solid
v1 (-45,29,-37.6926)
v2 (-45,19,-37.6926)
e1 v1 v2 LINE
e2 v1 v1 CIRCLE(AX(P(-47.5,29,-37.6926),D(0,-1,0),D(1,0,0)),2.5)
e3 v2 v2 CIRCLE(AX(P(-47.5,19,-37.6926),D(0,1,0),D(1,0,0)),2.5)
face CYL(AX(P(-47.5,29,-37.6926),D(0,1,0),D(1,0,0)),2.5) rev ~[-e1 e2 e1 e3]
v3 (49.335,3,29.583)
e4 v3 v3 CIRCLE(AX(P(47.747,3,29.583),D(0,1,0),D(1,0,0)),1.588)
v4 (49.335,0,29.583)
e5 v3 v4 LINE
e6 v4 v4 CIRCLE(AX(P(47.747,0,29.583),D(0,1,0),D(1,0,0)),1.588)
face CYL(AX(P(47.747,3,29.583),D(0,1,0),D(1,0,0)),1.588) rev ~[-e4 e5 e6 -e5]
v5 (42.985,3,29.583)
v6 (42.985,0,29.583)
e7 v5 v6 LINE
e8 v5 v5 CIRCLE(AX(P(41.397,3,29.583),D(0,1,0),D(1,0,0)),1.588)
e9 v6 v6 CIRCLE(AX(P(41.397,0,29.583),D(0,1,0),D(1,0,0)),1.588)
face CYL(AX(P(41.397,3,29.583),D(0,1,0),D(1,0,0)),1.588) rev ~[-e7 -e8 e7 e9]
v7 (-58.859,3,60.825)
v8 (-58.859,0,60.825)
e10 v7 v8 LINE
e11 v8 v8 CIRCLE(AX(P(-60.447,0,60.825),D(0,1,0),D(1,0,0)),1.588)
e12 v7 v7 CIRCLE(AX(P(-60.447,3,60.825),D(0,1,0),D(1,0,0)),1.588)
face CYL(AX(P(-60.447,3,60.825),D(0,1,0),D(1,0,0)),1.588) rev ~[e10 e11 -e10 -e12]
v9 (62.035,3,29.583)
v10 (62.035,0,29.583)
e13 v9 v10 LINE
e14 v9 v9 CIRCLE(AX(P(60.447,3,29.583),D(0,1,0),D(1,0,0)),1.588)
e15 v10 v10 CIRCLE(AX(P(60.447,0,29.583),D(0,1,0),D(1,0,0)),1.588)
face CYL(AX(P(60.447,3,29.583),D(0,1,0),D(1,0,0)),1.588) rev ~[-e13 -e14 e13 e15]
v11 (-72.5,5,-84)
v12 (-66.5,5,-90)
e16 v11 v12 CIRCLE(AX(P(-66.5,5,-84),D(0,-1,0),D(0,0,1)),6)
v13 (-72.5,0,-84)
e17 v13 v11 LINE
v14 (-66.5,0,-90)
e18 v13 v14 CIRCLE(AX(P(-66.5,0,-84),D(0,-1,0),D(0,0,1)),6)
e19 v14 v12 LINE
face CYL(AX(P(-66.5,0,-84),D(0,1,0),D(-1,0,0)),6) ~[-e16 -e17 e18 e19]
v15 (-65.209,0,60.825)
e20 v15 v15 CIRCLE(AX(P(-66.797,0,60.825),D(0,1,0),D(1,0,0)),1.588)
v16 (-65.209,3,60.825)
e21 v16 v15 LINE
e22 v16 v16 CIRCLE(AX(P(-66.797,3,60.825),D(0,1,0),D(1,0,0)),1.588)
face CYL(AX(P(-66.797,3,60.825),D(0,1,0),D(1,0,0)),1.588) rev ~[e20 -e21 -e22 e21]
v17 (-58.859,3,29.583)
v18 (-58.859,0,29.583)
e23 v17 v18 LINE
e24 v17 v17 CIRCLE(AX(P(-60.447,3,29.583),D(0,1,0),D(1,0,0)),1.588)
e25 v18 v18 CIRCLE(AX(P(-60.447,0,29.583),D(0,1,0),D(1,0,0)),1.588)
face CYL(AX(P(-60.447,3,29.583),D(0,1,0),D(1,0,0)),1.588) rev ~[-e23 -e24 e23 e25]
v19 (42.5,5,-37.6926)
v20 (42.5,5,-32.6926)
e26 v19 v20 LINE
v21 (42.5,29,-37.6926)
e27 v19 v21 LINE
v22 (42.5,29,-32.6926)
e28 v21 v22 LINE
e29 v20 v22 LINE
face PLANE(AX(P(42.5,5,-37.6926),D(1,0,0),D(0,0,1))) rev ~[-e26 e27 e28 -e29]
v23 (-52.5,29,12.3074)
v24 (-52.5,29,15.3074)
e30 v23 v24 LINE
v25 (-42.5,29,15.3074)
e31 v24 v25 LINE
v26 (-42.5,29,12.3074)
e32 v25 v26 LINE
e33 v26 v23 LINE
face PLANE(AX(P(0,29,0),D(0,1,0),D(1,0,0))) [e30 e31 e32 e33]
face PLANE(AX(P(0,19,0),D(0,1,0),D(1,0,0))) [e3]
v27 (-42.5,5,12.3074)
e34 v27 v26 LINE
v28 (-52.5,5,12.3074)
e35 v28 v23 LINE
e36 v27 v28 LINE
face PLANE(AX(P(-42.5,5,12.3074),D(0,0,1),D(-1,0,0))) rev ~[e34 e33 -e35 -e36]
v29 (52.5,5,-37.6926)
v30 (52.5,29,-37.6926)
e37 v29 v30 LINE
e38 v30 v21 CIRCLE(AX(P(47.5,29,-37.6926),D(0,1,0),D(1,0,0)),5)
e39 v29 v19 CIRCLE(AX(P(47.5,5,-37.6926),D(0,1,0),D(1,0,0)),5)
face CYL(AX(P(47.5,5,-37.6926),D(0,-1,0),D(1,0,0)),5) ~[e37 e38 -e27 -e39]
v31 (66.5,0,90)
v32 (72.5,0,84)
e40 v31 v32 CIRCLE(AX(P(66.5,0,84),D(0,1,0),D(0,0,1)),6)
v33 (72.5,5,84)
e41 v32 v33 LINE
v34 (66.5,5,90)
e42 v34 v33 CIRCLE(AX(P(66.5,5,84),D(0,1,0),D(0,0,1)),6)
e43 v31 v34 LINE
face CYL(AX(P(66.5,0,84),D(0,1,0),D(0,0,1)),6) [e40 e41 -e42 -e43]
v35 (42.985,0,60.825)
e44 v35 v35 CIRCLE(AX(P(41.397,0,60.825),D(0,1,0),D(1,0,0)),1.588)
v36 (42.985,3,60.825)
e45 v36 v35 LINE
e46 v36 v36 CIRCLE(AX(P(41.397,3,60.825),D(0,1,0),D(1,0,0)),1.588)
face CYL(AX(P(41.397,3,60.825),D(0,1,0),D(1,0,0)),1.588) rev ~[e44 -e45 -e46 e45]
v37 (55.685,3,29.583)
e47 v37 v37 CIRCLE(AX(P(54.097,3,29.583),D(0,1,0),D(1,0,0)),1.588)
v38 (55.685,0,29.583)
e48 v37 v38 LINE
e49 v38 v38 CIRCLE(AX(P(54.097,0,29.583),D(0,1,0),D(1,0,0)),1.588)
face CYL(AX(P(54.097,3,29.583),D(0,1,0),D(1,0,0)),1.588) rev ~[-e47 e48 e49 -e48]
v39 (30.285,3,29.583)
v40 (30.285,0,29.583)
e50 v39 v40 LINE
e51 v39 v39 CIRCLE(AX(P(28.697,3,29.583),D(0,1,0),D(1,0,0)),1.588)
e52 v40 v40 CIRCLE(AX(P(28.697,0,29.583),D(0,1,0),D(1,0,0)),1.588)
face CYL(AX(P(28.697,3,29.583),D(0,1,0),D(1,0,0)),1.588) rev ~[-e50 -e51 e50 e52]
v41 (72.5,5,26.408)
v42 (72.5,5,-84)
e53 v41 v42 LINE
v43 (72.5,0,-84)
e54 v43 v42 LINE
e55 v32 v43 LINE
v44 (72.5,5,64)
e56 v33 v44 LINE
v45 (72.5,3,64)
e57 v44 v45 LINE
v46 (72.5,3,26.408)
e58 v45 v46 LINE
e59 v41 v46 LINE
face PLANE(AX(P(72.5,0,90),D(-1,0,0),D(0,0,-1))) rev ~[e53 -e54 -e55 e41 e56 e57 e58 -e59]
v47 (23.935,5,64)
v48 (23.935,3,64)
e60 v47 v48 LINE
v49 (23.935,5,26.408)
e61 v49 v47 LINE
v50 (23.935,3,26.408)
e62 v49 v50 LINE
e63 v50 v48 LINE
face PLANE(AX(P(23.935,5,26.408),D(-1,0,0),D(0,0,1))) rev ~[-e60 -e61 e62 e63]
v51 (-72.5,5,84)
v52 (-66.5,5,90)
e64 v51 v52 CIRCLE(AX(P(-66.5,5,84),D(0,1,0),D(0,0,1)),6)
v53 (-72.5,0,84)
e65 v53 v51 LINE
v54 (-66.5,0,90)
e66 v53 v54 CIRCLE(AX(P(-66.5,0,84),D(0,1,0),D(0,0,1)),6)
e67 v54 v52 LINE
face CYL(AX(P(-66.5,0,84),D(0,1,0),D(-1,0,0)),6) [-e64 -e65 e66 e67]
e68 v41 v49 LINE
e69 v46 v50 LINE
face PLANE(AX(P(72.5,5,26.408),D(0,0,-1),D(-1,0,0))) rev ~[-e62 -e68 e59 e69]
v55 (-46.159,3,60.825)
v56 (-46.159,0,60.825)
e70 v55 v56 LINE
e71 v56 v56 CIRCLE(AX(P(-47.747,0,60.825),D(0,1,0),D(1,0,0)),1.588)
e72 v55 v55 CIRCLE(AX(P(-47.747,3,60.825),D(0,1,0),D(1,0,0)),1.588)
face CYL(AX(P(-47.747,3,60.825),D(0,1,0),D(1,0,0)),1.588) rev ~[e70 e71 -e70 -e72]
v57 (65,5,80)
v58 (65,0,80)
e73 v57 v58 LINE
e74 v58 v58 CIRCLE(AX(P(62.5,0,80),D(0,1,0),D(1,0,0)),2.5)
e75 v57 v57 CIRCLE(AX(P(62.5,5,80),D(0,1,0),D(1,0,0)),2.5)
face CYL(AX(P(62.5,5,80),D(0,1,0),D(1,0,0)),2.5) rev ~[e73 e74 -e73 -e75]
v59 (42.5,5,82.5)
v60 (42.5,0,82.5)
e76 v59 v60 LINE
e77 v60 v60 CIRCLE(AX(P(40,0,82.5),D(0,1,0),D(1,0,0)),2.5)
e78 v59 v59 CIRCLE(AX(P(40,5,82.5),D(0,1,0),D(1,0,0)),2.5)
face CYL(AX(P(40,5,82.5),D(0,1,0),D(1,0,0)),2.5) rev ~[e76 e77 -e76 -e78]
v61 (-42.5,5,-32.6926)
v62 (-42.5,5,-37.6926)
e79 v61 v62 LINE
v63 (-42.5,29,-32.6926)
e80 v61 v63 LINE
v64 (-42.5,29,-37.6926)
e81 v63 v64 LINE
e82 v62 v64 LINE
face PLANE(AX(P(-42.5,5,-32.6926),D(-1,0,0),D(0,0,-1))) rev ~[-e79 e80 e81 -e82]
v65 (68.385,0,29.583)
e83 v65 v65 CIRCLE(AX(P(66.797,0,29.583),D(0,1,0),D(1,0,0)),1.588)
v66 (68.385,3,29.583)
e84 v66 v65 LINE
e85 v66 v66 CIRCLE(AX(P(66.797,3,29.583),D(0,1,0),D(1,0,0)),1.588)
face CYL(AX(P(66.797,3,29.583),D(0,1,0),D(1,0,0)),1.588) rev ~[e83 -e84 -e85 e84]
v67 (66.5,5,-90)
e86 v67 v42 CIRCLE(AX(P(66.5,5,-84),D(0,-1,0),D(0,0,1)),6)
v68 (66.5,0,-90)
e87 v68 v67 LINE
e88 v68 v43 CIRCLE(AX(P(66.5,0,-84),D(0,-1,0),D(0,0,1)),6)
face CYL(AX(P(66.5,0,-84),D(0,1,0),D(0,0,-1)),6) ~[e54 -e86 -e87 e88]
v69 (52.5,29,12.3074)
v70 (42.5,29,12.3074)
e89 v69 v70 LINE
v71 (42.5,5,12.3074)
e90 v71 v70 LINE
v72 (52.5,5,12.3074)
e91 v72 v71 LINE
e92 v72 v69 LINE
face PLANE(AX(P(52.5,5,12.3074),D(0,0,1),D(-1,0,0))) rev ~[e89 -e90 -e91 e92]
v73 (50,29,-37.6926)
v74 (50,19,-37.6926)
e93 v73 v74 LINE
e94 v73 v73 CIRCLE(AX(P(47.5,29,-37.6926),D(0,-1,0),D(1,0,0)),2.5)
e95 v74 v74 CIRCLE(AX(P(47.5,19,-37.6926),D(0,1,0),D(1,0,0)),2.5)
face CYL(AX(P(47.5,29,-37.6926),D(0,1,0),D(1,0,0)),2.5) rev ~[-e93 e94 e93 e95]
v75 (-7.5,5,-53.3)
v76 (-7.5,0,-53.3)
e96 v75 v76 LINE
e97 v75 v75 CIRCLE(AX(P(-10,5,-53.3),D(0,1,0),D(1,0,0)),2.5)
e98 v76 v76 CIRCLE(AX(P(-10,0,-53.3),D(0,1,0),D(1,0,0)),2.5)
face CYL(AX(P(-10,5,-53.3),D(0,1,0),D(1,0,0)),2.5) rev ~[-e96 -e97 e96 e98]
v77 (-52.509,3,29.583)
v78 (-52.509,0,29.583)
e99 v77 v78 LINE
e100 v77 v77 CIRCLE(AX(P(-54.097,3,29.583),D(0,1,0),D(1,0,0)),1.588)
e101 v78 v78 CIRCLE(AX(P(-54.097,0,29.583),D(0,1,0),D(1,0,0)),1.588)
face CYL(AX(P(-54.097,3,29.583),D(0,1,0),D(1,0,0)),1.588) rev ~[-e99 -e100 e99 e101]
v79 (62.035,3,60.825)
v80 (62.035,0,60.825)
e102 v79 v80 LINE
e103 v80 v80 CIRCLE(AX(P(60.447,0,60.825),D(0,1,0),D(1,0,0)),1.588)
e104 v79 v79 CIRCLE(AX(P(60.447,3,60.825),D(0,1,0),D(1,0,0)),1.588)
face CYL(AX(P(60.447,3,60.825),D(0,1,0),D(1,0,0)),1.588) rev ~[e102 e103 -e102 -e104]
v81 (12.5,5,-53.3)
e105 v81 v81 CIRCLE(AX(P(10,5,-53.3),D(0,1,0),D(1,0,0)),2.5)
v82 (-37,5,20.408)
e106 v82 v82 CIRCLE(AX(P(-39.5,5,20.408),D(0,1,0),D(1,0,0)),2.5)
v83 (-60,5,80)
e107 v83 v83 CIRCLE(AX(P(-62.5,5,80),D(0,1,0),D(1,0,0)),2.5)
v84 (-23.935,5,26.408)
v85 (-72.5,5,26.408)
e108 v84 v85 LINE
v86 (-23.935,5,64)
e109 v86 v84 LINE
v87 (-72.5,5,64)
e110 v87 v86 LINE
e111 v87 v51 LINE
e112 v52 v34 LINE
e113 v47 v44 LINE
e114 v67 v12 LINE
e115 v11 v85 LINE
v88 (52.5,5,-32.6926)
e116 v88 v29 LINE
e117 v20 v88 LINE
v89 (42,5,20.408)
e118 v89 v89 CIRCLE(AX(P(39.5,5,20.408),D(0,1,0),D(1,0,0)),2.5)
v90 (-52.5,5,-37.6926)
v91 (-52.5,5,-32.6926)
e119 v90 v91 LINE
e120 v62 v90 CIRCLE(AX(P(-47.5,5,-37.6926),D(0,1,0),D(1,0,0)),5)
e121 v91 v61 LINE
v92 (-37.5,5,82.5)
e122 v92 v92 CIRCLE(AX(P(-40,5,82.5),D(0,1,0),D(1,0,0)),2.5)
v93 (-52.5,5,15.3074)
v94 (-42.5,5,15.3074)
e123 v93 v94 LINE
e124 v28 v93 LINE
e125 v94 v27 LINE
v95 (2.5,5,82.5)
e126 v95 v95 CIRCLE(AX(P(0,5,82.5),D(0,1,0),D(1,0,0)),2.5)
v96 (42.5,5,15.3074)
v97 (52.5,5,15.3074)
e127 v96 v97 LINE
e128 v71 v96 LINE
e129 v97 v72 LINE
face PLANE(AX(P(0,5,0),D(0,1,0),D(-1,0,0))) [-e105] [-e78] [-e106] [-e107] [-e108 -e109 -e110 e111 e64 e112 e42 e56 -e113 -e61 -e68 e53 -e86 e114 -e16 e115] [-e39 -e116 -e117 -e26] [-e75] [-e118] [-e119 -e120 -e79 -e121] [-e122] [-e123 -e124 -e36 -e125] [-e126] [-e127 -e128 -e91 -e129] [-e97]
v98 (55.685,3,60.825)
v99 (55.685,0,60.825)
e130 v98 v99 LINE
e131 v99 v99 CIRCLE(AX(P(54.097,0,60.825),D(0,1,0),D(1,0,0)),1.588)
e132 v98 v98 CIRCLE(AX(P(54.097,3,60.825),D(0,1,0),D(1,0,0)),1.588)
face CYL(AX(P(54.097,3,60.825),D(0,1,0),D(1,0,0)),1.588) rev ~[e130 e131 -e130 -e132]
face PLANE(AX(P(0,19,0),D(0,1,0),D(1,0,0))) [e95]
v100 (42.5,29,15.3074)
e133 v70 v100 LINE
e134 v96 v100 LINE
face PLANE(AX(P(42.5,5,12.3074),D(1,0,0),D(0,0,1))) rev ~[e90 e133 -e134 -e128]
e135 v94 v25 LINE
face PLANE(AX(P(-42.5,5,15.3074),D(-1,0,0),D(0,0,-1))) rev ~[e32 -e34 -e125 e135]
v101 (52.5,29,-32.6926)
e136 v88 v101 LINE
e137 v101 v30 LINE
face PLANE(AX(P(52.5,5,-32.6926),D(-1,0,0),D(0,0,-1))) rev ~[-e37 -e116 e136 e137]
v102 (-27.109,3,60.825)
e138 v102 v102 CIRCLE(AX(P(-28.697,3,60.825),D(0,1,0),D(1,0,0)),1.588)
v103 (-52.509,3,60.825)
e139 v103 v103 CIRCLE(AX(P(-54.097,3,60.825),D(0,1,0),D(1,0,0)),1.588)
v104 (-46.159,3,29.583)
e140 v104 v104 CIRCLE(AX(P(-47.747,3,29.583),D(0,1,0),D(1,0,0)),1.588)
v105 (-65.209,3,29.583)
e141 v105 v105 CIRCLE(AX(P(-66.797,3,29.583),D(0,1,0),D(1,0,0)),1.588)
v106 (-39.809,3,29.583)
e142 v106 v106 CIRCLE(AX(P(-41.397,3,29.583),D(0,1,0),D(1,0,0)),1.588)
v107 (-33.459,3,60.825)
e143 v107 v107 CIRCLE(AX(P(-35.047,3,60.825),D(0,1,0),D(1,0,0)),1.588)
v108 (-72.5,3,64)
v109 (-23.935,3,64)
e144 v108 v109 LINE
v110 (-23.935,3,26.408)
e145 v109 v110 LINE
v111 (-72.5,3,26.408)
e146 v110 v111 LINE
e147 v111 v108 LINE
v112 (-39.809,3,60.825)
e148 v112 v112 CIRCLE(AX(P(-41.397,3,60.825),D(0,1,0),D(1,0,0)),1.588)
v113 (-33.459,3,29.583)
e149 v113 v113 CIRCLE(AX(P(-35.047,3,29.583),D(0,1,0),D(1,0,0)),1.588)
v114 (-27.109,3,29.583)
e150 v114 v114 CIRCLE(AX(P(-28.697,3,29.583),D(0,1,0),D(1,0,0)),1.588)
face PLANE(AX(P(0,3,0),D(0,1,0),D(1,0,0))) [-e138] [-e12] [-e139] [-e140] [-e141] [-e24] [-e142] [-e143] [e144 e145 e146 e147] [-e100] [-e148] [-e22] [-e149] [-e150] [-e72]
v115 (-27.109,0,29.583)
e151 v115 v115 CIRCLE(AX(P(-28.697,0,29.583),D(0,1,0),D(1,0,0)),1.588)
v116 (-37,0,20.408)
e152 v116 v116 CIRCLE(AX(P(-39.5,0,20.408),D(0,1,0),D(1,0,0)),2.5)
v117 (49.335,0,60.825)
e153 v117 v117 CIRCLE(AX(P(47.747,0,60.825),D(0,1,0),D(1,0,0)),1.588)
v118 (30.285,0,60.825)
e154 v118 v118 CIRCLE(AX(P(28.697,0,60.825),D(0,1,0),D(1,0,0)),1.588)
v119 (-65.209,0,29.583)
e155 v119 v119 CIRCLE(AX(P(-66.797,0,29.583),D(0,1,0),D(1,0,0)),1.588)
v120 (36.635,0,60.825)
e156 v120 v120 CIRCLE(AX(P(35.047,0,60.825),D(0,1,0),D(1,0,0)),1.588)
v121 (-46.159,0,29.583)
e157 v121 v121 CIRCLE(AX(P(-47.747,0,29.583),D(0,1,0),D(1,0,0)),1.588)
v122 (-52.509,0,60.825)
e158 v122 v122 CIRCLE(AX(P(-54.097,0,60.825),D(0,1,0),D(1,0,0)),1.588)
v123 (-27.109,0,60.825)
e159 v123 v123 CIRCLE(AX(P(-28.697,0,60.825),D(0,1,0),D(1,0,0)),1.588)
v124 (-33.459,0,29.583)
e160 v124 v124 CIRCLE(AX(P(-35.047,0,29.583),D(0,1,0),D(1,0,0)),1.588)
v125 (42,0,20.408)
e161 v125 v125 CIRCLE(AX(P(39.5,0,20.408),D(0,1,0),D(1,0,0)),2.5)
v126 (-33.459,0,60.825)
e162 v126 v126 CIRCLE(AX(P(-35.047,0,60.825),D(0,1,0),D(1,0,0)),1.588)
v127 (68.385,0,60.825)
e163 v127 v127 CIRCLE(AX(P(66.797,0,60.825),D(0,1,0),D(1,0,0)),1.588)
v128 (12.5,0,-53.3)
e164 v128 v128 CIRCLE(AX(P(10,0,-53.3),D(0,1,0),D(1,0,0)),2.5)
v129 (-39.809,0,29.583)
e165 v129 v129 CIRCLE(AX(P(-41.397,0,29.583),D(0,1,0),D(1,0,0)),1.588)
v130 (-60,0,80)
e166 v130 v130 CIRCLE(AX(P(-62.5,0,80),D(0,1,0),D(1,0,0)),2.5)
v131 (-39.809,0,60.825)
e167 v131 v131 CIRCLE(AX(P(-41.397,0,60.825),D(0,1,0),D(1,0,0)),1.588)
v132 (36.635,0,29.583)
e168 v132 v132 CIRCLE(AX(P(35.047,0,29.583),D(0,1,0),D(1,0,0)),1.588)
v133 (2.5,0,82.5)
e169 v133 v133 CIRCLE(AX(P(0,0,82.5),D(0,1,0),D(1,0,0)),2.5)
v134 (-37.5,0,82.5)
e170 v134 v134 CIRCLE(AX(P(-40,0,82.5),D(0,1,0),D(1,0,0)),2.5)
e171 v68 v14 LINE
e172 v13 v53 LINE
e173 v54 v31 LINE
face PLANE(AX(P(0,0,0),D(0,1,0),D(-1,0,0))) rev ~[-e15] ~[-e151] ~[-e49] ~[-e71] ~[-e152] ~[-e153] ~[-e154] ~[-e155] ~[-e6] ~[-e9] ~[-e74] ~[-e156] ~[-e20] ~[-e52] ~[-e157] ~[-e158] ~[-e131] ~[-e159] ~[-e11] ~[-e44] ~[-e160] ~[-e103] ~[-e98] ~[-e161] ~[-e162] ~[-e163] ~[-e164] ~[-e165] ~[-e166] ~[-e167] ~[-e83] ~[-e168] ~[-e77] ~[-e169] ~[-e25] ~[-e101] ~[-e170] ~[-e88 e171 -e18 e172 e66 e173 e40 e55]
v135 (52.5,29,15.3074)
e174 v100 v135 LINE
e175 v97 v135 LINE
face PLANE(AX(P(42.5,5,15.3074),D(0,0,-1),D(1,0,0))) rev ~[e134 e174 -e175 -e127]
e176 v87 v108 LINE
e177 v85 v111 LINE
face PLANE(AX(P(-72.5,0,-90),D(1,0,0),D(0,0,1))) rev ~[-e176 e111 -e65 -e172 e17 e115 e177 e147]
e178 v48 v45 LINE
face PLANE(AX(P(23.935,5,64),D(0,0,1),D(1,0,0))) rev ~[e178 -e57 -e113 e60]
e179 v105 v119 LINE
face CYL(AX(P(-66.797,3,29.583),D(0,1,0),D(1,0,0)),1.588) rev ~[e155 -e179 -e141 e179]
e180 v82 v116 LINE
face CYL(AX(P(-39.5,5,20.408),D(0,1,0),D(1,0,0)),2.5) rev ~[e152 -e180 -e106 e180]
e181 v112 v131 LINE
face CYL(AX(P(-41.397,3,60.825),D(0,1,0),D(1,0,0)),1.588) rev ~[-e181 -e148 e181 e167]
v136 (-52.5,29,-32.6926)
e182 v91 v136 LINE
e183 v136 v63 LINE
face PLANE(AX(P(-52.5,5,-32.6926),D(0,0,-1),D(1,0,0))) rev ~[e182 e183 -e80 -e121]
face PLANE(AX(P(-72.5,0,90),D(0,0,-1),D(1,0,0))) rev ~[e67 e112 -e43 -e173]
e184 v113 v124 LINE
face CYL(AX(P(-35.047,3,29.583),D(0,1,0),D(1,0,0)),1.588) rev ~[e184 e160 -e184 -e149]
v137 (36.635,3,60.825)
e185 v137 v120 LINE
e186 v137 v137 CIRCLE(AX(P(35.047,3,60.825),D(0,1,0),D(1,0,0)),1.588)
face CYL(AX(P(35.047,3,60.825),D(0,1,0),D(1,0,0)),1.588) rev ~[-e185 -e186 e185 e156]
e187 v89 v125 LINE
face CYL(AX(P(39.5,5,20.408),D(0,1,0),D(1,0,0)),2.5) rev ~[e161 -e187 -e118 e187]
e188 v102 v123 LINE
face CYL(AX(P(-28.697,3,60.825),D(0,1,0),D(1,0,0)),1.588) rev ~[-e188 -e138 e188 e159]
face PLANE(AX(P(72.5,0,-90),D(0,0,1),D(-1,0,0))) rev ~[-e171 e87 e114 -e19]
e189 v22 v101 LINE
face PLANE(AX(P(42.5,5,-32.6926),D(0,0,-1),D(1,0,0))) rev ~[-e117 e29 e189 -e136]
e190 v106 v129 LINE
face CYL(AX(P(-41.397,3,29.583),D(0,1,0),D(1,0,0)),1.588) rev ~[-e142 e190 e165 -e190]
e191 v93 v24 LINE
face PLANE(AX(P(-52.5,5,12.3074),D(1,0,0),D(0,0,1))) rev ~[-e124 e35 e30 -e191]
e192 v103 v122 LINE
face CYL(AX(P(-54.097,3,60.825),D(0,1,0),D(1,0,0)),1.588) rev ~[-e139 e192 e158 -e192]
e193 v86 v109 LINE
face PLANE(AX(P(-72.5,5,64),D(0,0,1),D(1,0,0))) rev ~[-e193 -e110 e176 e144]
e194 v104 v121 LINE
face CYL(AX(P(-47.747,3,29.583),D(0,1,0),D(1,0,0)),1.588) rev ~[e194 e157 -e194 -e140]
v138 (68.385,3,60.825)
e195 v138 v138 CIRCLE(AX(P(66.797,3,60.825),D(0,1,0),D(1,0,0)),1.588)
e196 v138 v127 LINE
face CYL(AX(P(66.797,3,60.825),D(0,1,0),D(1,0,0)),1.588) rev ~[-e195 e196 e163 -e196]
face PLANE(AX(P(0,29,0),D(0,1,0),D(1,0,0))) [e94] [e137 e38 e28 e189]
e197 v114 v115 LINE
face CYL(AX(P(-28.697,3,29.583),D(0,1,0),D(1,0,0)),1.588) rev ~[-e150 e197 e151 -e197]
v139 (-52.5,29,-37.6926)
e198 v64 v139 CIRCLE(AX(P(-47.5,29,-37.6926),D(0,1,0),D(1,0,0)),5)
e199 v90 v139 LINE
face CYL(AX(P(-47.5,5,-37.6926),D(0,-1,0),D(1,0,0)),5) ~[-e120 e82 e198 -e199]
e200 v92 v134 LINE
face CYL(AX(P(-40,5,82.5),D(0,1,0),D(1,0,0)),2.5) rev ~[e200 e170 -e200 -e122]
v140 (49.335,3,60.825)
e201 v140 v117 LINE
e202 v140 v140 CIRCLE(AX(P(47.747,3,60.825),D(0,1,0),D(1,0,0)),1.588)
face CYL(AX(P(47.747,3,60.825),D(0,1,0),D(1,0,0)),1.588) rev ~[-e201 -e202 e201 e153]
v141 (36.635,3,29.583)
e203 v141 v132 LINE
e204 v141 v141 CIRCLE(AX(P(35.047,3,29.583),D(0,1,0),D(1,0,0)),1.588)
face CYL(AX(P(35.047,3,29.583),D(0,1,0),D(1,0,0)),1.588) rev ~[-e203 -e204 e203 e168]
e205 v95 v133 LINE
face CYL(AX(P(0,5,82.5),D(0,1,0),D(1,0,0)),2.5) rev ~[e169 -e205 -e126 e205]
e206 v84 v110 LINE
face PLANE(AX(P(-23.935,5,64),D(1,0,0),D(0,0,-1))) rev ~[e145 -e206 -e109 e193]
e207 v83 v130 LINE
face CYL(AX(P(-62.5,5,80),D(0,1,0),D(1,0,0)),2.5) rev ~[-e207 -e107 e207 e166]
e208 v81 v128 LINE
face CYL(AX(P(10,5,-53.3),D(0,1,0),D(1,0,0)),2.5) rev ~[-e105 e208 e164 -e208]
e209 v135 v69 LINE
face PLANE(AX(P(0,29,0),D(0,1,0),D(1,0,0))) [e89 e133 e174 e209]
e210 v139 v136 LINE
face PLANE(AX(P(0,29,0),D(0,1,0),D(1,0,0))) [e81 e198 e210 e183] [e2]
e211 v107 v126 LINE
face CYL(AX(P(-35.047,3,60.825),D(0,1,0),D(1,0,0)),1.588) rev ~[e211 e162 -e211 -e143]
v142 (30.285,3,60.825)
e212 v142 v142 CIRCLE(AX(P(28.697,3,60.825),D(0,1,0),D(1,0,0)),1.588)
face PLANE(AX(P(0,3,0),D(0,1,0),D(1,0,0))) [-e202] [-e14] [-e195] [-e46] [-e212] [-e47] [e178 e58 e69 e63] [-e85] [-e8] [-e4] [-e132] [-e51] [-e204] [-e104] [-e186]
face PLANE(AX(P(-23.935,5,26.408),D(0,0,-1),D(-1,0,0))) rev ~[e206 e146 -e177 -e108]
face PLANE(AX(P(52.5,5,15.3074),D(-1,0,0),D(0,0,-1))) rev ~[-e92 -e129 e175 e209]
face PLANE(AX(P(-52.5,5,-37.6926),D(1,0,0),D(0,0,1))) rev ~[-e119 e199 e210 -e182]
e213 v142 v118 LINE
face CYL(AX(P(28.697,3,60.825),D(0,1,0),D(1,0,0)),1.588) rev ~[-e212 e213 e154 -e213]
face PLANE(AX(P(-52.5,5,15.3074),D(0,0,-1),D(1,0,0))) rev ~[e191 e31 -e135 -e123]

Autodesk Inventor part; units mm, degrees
ref_plane "YZ Plane" through (0, 0, 0) normal (1, 0, 0) x (0, 1, 0)
ref_plane "XZ Plane" through (0, 0, 0) normal (0, 1, 0) x (-1, 0, 0)
ref_plane "XY Plane" through (0, 0, 0) normal (0, 0, 1) x (1, 0, 0)
sketch "Sketch3" plane through (0, 0, 0) normal (0, 1, 0) x (-1, 0, 0)
  line L0 (72.5, 90) -> (-72.5, 90)
  line L1 (-72.5, 90) -> (-72.5, -90)
  line L2 (-72.5, -90) -> (72.5, -90)
  line L3 (72.5, -90) -> (72.5, 90)
  line L4 (72.5, 90) -> (-72.5, -90) construction
  line L5 (-72.5, 90) -> (72.5, -90) construction
  point P0 (0, 0)
  dimension "d7" = 145
  dimension "d8" = 180
extrude "Extrusion3" add sketch "Sketch3" along normal blind 5
sketch "Sketch4" plane through (0, 5, 0) normal (0, 1, 0) x (1, 0, 0)
  line L0 (23.935, -64) -> (72.5, -64)
  line L1 (72.5, -64) -> (72.5, -26.408)
  line L2 (72.5, -26.408) -> (23.935, -26.408)
  line L3 (23.935, -26.408) -> (23.935, -64)
  line L4 (23.935, -64) -> (72.5, -26.408) construction
  line L5 (72.5, -64) -> (23.935, -26.408) construction
  line L6 (72.5, -90) -> (72.5, 90) projected
  line L7 (-72.5, -90) -> (72.5, -90) projected
  line L8 (-72.5, -64) -> (-23.935, -64)
  line L9 (-23.935, -64) -> (-23.935, -26.408)
  line L10 (-23.935, -26.408) -> (-72.5, -26.408)
  line L11 (-72.5, -26.408) -> (-72.5, -64)
  line L12 (-72.5, -64) -> (-23.935, -26.408) construction
  line L13 (-23.935, -64) -> (-72.5, -26.408) construction
  line L14 (-72.5, 90) -> (-72.5, -90) projected
  point P0 (0, 0)
  point P1 (48.2175, -45.204)
  point P2 (-48.2175, -45.204)
  dimension "d11" = 48.565
  dimension "d12" = 37.592
  dimension "d13" = 0
  dimension "d14" = 26
  dimension "d20" = 48.565
  dimension "d21" = 37.592
  dimension "d22" = 0
  dimension "d23" = 26
extrude "Extrusion4" cut sketch "Sketch4" against normal blind 2
sketch "Sketch5" plane through (0, 3, 0) normal (0, 1, 0) x (1, 0, 0)
  circle A0 centre (66.797, -60.825) radius 1.588
  line L0 (72.5, -26.408) -> (72.5, -64)
  line L1 (72.5, -64) -> (23.935, -64)
  circle A1 centre (60.447, -60.825) radius 1.588
  circle A2 centre (54.097, -60.825) radius 1.588
  circle A3 centre (47.747, -60.825) radius 1.588
  circle A4 centre (41.397, -60.825) radius 1.588
  circle A5 centre (35.047, -60.825) radius 1.588
  circle A6 centre (28.697, -60.825) radius 1.588
  circle A7 centre (66.797, -29.583) radius 1.588
  circle A8 centre (60.447, -29.583) radius 1.588
  circle A9 centre (54.097, -29.583) radius 1.588
  circle A10 centre (47.747, -29.583) radius 1.588
  circle A11 centre (41.397, -29.583) radius 1.588
  circle A12 centre (35.047, -29.583) radius 1.588
  circle A13 centre (28.697, -29.583) radius 1.588
  circle A14 centre (-66.797, -60.825) radius 1.588
  line L2 (-23.935, -64) -> (-72.5, -64) projected
  line L3 (-72.5, -64) -> (-72.5, -26.408) projected
  circle A15 centre (-60.447, -60.825) radius 1.588
  circle A16 centre (-54.097, -60.825) radius 1.588
  circle A17 centre (-47.747, -60.825) radius 1.588
  circle A18 centre (-41.397, -60.825) radius 1.588
  circle A19 centre (-35.047, -60.825) radius 1.588
  circle A20 centre (-28.697, -60.825) radius 1.588
  circle A21 centre (-66.797, -29.583) radius 1.588
  circle A22 centre (-60.447, -29.583) radius 1.588
  circle A23 centre (-54.097, -29.583) radius 1.588
  circle A24 centre (-47.747, -29.583) radius 1.588
  circle A25 centre (-41.397, -29.583) radius 1.588
  circle A26 centre (-35.047, -29.583) radius 1.588
  circle A27 centre (-28.697, -29.583) radius 1.588
  point P0 (0, 0)
  dimension "d24" = 3.176
  dimension "d25" = 5.703
  dimension "d26" = 3.175
  dimension "d30" = 6.35
  dimension "d33" = 31.242
  dimension "d36" = 3.176
  dimension "d37" = 3.175
  dimension "d38" = 5.703
  dimension "d41" = 6.35
  dimension "d44" = 31.242
extrude "Extrusion5" cut sketch "Sketch5" against normal through all
sketch "Sketch6" plane through (0, 5, 0) normal (0, 1, 0) x (1, 0, 0)
  line L0 (42.5, 32.6926) -> (52.5, 32.6926)
  line L1 (52.5, 32.6926) -> (52.5, 37.6926)
  line L2 (52.5, 37.6926) -> (42.5, 37.6926)
  line L3 (42.5, 37.6926) -> (42.5, 32.6926)
  line L4 (42.5, 32.6926) -> (52.5, 37.6926) construction
  line L5 (52.5, 32.6926) -> (42.5, 37.6926) construction
  line L6 (72.5, -26.408) -> (72.5, 90) projected
  line L7 (-52.5, 32.6926) -> (-42.5, 32.6926)
  line L8 (-42.5, 32.6926) -> (-42.5, 37.6926)
  line L9 (-42.5, 37.6926) -> (-52.5, 37.6926)
  line L10 (-52.5, 37.6926) -> (-52.5, 32.6926)
  line L11 (-52.5, 32.6926) -> (-42.5, 37.6926) construction
  line L12 (-42.5, 32.6926) -> (-52.5, 37.6926) construction
  line L13 (-72.5, 90) -> (-72.5, -26.408) projected
  line L14 (-52.5, -15.3074) -> (-42.5, -15.3074)
  line L15 (-42.5, -15.3074) -> (-42.5, -12.3074)
  line L16 (-42.5, -12.3074) -> (-52.5, -12.3074)
  line L17 (-52.5, -12.3074) -> (-52.5, -15.3074)
  line L18 (-52.5, -15.3074) -> (-42.5, -12.3074) construction
  line L19 (-42.5, -15.3074) -> (-52.5, -12.3074) construction
  line L20 (42.5, -15.3074) -> (52.5, -15.3074)
  line L21 (52.5, -15.3074) -> (52.5, -12.3074)
  line L22 (52.5, -12.3074) -> (42.5, -12.3074)
  line L23 (42.5, -12.3074) -> (42.5, -15.3074)
  line L24 (42.5, -15.3074) -> (52.5, -12.3074) construction
  line L25 (52.5, -15.3074) -> (42.5, -12.3074) construction
  arc A0 (-42.5, 37.6926) -> (-52.5, 37.6926) centre (-47.5, 37.6926) ccw
  arc A1 (52.5, 37.6926) -> (42.5, 37.6926) centre (47.5, 37.6926) ccw
  line L26 (-72.5, -26.408) -> (-23.935, -26.408) projected
  line L27 (23.935, -26.408) -> (72.5, -26.408) projected
  point P0 (0, 0)
  point P1 (47.5, 35.1926)
  point P2 (-47.5, 35.1926)
  point P3 (-47.5, -13.8074)
  point P4 (47.5, -13.8074)
  dimension "d49" = 10
  dimension "d50" = 5
  dimension "d51" = 20
  dimension "d52" = 10
  dimension "d53" = 5
  dimension "d54" = 20
  dimension "d57" = 10
  dimension "d58" = 3
  dimension "d59" = 10
  dimension "d60" = 3
  dimension "d61" = 45
  dimension "d84" = 11.1006
  dimension "d85" = 11.1006
extrude "Extrusion6" add sketch "Sketch6" along normal blind 24
sketch "Sketch7" plane through (0, 5, 0) normal (0, 1, 0) x (1, 0, 0)
  circle A0 centre (62.5, -80) radius 2.5
  line L0 (72.5, -90) -> (72.5, -64) projected
  line L1 (-72.5, -90) -> (72.5, -90) projected
  circle A1 centre (-62.5, -80) radius 2.5
  line L2 (-72.5, -64) -> (-72.5, -90) projected
  circle A2 centre (-39.5, -20.408) radius 2.5
  line L3 (-42.5, -15.3074) -> (-42.5, -12.3074) projected
  line L4 (-72.5, -26.408) -> (-23.935, -26.408) projected
  circle A3 centre (39.5, -20.408) radius 2.5
  line L5 (42.5, -12.3074) -> (42.5, -15.3074) projected
  line L6 (23.935, -26.408) -> (72.5, -26.408) projected
  line L7 (52.5, 35.6926) -> (42.5, 35.6926) projected
  circle A4 centre (39.5, -20.408) radius 4
  circle A5 centre (-39.5, -20.408) radius 4
  circle A6 centre (-62.5, -80) radius 4
  circle A7 centre (62.5, -80) radius 4
  circle A8 centre (-10, 53.3) radius 2.5
  line L8 (72.5, 90) -> (-72.5, 90) projected
  circle A9 centre (10, 53.3) radius 2.5
  circle A10 centre (0, -82.5) radius 2.5
  circle A11 centre (-40, -82.5) radius 2.5
  circle A12 centre (40, -82.5) radius 2.5
  point P0 (0, 0)
  point P1 (52.5, 37.6926)
  point P2 (42.5, 37.6926)
  point P3 (0, 90)
  point P4 (0, 90)
  point P5 (0, -90)
  dimension "d63" = 5
  dimension "d64" = 10
  dimension "d65" = 10
  dimension "d66" = 5
  dimension "d67" = 10
  dimension "d68" = 10
  dimension "d69" = 5
  dimension "d70" = 3
  dimension "d71" = 6
  dimension "d72" = 5
  dimension "d73" = 3
  dimension "d74" = 6
  dimension "d80" = 1.5
  dimension "d81" = 1.5
  dimension "d82" = 1.5
  dimension "d83" = 1.5
  dimension "d90" = 5
  dimension "d91" = 36.7
  dimension "d92" = 10
  dimension "d93" = 5
  dimension "d94" = 10
  dimension "d96" = 5
  dimension "d97" = 7.5
  dimension "d98" = 5
  dimension "d99" = 40
  dimension "d100" = 5
  dimension "d101" = 40
extrude "Extrusion7" cut sketch "Sketch7" against normal through all contours A0 | A1 | A2 | A3 | A8 | A9 | A10 | A11 | A12
sketch "Sketch8" plane through (0, 29, 0) normal (0, 1, 0) x (1, 0, 0)
  line L0 (-42.5, 32.6926) -> (-52.5, 32.6926) projected
  line L1 (-47.5, 32.6926) -> (-47.5, 42.6926)
  arc A0 (-42.5, 37.6926) -> (-52.5, 37.6926) centre (-47.5, 37.6926) ccw projected
  line L2 (42.5, 32.6926) -> (52.5, 32.6926) projected
  line L3 (47.5, 32.6926) -> (47.5, 42.6926)
  arc A1 (52.5, 37.6926) -> (42.5, 37.6926) centre (47.5, 37.6926) ccw projected
  circle A2 centre (47.5, 37.6926) radius 2.5
  circle A3 centre (-47.5, 37.6926) radius 2.5
  point P0 (0, 0)
  dimension "d86" = 5
  dimension "d87" = 5
extrude "Extrusion8" cut sketch "Sketch8" against normal blind 10
fillet "Fillet1" radius 6 4 edges at (72.5, 2.5, 90) (-72.5, 2.5, 90) (-72.5, 2.5, -90) (72.5, 2.5, -90)
properties part number "chasis"
